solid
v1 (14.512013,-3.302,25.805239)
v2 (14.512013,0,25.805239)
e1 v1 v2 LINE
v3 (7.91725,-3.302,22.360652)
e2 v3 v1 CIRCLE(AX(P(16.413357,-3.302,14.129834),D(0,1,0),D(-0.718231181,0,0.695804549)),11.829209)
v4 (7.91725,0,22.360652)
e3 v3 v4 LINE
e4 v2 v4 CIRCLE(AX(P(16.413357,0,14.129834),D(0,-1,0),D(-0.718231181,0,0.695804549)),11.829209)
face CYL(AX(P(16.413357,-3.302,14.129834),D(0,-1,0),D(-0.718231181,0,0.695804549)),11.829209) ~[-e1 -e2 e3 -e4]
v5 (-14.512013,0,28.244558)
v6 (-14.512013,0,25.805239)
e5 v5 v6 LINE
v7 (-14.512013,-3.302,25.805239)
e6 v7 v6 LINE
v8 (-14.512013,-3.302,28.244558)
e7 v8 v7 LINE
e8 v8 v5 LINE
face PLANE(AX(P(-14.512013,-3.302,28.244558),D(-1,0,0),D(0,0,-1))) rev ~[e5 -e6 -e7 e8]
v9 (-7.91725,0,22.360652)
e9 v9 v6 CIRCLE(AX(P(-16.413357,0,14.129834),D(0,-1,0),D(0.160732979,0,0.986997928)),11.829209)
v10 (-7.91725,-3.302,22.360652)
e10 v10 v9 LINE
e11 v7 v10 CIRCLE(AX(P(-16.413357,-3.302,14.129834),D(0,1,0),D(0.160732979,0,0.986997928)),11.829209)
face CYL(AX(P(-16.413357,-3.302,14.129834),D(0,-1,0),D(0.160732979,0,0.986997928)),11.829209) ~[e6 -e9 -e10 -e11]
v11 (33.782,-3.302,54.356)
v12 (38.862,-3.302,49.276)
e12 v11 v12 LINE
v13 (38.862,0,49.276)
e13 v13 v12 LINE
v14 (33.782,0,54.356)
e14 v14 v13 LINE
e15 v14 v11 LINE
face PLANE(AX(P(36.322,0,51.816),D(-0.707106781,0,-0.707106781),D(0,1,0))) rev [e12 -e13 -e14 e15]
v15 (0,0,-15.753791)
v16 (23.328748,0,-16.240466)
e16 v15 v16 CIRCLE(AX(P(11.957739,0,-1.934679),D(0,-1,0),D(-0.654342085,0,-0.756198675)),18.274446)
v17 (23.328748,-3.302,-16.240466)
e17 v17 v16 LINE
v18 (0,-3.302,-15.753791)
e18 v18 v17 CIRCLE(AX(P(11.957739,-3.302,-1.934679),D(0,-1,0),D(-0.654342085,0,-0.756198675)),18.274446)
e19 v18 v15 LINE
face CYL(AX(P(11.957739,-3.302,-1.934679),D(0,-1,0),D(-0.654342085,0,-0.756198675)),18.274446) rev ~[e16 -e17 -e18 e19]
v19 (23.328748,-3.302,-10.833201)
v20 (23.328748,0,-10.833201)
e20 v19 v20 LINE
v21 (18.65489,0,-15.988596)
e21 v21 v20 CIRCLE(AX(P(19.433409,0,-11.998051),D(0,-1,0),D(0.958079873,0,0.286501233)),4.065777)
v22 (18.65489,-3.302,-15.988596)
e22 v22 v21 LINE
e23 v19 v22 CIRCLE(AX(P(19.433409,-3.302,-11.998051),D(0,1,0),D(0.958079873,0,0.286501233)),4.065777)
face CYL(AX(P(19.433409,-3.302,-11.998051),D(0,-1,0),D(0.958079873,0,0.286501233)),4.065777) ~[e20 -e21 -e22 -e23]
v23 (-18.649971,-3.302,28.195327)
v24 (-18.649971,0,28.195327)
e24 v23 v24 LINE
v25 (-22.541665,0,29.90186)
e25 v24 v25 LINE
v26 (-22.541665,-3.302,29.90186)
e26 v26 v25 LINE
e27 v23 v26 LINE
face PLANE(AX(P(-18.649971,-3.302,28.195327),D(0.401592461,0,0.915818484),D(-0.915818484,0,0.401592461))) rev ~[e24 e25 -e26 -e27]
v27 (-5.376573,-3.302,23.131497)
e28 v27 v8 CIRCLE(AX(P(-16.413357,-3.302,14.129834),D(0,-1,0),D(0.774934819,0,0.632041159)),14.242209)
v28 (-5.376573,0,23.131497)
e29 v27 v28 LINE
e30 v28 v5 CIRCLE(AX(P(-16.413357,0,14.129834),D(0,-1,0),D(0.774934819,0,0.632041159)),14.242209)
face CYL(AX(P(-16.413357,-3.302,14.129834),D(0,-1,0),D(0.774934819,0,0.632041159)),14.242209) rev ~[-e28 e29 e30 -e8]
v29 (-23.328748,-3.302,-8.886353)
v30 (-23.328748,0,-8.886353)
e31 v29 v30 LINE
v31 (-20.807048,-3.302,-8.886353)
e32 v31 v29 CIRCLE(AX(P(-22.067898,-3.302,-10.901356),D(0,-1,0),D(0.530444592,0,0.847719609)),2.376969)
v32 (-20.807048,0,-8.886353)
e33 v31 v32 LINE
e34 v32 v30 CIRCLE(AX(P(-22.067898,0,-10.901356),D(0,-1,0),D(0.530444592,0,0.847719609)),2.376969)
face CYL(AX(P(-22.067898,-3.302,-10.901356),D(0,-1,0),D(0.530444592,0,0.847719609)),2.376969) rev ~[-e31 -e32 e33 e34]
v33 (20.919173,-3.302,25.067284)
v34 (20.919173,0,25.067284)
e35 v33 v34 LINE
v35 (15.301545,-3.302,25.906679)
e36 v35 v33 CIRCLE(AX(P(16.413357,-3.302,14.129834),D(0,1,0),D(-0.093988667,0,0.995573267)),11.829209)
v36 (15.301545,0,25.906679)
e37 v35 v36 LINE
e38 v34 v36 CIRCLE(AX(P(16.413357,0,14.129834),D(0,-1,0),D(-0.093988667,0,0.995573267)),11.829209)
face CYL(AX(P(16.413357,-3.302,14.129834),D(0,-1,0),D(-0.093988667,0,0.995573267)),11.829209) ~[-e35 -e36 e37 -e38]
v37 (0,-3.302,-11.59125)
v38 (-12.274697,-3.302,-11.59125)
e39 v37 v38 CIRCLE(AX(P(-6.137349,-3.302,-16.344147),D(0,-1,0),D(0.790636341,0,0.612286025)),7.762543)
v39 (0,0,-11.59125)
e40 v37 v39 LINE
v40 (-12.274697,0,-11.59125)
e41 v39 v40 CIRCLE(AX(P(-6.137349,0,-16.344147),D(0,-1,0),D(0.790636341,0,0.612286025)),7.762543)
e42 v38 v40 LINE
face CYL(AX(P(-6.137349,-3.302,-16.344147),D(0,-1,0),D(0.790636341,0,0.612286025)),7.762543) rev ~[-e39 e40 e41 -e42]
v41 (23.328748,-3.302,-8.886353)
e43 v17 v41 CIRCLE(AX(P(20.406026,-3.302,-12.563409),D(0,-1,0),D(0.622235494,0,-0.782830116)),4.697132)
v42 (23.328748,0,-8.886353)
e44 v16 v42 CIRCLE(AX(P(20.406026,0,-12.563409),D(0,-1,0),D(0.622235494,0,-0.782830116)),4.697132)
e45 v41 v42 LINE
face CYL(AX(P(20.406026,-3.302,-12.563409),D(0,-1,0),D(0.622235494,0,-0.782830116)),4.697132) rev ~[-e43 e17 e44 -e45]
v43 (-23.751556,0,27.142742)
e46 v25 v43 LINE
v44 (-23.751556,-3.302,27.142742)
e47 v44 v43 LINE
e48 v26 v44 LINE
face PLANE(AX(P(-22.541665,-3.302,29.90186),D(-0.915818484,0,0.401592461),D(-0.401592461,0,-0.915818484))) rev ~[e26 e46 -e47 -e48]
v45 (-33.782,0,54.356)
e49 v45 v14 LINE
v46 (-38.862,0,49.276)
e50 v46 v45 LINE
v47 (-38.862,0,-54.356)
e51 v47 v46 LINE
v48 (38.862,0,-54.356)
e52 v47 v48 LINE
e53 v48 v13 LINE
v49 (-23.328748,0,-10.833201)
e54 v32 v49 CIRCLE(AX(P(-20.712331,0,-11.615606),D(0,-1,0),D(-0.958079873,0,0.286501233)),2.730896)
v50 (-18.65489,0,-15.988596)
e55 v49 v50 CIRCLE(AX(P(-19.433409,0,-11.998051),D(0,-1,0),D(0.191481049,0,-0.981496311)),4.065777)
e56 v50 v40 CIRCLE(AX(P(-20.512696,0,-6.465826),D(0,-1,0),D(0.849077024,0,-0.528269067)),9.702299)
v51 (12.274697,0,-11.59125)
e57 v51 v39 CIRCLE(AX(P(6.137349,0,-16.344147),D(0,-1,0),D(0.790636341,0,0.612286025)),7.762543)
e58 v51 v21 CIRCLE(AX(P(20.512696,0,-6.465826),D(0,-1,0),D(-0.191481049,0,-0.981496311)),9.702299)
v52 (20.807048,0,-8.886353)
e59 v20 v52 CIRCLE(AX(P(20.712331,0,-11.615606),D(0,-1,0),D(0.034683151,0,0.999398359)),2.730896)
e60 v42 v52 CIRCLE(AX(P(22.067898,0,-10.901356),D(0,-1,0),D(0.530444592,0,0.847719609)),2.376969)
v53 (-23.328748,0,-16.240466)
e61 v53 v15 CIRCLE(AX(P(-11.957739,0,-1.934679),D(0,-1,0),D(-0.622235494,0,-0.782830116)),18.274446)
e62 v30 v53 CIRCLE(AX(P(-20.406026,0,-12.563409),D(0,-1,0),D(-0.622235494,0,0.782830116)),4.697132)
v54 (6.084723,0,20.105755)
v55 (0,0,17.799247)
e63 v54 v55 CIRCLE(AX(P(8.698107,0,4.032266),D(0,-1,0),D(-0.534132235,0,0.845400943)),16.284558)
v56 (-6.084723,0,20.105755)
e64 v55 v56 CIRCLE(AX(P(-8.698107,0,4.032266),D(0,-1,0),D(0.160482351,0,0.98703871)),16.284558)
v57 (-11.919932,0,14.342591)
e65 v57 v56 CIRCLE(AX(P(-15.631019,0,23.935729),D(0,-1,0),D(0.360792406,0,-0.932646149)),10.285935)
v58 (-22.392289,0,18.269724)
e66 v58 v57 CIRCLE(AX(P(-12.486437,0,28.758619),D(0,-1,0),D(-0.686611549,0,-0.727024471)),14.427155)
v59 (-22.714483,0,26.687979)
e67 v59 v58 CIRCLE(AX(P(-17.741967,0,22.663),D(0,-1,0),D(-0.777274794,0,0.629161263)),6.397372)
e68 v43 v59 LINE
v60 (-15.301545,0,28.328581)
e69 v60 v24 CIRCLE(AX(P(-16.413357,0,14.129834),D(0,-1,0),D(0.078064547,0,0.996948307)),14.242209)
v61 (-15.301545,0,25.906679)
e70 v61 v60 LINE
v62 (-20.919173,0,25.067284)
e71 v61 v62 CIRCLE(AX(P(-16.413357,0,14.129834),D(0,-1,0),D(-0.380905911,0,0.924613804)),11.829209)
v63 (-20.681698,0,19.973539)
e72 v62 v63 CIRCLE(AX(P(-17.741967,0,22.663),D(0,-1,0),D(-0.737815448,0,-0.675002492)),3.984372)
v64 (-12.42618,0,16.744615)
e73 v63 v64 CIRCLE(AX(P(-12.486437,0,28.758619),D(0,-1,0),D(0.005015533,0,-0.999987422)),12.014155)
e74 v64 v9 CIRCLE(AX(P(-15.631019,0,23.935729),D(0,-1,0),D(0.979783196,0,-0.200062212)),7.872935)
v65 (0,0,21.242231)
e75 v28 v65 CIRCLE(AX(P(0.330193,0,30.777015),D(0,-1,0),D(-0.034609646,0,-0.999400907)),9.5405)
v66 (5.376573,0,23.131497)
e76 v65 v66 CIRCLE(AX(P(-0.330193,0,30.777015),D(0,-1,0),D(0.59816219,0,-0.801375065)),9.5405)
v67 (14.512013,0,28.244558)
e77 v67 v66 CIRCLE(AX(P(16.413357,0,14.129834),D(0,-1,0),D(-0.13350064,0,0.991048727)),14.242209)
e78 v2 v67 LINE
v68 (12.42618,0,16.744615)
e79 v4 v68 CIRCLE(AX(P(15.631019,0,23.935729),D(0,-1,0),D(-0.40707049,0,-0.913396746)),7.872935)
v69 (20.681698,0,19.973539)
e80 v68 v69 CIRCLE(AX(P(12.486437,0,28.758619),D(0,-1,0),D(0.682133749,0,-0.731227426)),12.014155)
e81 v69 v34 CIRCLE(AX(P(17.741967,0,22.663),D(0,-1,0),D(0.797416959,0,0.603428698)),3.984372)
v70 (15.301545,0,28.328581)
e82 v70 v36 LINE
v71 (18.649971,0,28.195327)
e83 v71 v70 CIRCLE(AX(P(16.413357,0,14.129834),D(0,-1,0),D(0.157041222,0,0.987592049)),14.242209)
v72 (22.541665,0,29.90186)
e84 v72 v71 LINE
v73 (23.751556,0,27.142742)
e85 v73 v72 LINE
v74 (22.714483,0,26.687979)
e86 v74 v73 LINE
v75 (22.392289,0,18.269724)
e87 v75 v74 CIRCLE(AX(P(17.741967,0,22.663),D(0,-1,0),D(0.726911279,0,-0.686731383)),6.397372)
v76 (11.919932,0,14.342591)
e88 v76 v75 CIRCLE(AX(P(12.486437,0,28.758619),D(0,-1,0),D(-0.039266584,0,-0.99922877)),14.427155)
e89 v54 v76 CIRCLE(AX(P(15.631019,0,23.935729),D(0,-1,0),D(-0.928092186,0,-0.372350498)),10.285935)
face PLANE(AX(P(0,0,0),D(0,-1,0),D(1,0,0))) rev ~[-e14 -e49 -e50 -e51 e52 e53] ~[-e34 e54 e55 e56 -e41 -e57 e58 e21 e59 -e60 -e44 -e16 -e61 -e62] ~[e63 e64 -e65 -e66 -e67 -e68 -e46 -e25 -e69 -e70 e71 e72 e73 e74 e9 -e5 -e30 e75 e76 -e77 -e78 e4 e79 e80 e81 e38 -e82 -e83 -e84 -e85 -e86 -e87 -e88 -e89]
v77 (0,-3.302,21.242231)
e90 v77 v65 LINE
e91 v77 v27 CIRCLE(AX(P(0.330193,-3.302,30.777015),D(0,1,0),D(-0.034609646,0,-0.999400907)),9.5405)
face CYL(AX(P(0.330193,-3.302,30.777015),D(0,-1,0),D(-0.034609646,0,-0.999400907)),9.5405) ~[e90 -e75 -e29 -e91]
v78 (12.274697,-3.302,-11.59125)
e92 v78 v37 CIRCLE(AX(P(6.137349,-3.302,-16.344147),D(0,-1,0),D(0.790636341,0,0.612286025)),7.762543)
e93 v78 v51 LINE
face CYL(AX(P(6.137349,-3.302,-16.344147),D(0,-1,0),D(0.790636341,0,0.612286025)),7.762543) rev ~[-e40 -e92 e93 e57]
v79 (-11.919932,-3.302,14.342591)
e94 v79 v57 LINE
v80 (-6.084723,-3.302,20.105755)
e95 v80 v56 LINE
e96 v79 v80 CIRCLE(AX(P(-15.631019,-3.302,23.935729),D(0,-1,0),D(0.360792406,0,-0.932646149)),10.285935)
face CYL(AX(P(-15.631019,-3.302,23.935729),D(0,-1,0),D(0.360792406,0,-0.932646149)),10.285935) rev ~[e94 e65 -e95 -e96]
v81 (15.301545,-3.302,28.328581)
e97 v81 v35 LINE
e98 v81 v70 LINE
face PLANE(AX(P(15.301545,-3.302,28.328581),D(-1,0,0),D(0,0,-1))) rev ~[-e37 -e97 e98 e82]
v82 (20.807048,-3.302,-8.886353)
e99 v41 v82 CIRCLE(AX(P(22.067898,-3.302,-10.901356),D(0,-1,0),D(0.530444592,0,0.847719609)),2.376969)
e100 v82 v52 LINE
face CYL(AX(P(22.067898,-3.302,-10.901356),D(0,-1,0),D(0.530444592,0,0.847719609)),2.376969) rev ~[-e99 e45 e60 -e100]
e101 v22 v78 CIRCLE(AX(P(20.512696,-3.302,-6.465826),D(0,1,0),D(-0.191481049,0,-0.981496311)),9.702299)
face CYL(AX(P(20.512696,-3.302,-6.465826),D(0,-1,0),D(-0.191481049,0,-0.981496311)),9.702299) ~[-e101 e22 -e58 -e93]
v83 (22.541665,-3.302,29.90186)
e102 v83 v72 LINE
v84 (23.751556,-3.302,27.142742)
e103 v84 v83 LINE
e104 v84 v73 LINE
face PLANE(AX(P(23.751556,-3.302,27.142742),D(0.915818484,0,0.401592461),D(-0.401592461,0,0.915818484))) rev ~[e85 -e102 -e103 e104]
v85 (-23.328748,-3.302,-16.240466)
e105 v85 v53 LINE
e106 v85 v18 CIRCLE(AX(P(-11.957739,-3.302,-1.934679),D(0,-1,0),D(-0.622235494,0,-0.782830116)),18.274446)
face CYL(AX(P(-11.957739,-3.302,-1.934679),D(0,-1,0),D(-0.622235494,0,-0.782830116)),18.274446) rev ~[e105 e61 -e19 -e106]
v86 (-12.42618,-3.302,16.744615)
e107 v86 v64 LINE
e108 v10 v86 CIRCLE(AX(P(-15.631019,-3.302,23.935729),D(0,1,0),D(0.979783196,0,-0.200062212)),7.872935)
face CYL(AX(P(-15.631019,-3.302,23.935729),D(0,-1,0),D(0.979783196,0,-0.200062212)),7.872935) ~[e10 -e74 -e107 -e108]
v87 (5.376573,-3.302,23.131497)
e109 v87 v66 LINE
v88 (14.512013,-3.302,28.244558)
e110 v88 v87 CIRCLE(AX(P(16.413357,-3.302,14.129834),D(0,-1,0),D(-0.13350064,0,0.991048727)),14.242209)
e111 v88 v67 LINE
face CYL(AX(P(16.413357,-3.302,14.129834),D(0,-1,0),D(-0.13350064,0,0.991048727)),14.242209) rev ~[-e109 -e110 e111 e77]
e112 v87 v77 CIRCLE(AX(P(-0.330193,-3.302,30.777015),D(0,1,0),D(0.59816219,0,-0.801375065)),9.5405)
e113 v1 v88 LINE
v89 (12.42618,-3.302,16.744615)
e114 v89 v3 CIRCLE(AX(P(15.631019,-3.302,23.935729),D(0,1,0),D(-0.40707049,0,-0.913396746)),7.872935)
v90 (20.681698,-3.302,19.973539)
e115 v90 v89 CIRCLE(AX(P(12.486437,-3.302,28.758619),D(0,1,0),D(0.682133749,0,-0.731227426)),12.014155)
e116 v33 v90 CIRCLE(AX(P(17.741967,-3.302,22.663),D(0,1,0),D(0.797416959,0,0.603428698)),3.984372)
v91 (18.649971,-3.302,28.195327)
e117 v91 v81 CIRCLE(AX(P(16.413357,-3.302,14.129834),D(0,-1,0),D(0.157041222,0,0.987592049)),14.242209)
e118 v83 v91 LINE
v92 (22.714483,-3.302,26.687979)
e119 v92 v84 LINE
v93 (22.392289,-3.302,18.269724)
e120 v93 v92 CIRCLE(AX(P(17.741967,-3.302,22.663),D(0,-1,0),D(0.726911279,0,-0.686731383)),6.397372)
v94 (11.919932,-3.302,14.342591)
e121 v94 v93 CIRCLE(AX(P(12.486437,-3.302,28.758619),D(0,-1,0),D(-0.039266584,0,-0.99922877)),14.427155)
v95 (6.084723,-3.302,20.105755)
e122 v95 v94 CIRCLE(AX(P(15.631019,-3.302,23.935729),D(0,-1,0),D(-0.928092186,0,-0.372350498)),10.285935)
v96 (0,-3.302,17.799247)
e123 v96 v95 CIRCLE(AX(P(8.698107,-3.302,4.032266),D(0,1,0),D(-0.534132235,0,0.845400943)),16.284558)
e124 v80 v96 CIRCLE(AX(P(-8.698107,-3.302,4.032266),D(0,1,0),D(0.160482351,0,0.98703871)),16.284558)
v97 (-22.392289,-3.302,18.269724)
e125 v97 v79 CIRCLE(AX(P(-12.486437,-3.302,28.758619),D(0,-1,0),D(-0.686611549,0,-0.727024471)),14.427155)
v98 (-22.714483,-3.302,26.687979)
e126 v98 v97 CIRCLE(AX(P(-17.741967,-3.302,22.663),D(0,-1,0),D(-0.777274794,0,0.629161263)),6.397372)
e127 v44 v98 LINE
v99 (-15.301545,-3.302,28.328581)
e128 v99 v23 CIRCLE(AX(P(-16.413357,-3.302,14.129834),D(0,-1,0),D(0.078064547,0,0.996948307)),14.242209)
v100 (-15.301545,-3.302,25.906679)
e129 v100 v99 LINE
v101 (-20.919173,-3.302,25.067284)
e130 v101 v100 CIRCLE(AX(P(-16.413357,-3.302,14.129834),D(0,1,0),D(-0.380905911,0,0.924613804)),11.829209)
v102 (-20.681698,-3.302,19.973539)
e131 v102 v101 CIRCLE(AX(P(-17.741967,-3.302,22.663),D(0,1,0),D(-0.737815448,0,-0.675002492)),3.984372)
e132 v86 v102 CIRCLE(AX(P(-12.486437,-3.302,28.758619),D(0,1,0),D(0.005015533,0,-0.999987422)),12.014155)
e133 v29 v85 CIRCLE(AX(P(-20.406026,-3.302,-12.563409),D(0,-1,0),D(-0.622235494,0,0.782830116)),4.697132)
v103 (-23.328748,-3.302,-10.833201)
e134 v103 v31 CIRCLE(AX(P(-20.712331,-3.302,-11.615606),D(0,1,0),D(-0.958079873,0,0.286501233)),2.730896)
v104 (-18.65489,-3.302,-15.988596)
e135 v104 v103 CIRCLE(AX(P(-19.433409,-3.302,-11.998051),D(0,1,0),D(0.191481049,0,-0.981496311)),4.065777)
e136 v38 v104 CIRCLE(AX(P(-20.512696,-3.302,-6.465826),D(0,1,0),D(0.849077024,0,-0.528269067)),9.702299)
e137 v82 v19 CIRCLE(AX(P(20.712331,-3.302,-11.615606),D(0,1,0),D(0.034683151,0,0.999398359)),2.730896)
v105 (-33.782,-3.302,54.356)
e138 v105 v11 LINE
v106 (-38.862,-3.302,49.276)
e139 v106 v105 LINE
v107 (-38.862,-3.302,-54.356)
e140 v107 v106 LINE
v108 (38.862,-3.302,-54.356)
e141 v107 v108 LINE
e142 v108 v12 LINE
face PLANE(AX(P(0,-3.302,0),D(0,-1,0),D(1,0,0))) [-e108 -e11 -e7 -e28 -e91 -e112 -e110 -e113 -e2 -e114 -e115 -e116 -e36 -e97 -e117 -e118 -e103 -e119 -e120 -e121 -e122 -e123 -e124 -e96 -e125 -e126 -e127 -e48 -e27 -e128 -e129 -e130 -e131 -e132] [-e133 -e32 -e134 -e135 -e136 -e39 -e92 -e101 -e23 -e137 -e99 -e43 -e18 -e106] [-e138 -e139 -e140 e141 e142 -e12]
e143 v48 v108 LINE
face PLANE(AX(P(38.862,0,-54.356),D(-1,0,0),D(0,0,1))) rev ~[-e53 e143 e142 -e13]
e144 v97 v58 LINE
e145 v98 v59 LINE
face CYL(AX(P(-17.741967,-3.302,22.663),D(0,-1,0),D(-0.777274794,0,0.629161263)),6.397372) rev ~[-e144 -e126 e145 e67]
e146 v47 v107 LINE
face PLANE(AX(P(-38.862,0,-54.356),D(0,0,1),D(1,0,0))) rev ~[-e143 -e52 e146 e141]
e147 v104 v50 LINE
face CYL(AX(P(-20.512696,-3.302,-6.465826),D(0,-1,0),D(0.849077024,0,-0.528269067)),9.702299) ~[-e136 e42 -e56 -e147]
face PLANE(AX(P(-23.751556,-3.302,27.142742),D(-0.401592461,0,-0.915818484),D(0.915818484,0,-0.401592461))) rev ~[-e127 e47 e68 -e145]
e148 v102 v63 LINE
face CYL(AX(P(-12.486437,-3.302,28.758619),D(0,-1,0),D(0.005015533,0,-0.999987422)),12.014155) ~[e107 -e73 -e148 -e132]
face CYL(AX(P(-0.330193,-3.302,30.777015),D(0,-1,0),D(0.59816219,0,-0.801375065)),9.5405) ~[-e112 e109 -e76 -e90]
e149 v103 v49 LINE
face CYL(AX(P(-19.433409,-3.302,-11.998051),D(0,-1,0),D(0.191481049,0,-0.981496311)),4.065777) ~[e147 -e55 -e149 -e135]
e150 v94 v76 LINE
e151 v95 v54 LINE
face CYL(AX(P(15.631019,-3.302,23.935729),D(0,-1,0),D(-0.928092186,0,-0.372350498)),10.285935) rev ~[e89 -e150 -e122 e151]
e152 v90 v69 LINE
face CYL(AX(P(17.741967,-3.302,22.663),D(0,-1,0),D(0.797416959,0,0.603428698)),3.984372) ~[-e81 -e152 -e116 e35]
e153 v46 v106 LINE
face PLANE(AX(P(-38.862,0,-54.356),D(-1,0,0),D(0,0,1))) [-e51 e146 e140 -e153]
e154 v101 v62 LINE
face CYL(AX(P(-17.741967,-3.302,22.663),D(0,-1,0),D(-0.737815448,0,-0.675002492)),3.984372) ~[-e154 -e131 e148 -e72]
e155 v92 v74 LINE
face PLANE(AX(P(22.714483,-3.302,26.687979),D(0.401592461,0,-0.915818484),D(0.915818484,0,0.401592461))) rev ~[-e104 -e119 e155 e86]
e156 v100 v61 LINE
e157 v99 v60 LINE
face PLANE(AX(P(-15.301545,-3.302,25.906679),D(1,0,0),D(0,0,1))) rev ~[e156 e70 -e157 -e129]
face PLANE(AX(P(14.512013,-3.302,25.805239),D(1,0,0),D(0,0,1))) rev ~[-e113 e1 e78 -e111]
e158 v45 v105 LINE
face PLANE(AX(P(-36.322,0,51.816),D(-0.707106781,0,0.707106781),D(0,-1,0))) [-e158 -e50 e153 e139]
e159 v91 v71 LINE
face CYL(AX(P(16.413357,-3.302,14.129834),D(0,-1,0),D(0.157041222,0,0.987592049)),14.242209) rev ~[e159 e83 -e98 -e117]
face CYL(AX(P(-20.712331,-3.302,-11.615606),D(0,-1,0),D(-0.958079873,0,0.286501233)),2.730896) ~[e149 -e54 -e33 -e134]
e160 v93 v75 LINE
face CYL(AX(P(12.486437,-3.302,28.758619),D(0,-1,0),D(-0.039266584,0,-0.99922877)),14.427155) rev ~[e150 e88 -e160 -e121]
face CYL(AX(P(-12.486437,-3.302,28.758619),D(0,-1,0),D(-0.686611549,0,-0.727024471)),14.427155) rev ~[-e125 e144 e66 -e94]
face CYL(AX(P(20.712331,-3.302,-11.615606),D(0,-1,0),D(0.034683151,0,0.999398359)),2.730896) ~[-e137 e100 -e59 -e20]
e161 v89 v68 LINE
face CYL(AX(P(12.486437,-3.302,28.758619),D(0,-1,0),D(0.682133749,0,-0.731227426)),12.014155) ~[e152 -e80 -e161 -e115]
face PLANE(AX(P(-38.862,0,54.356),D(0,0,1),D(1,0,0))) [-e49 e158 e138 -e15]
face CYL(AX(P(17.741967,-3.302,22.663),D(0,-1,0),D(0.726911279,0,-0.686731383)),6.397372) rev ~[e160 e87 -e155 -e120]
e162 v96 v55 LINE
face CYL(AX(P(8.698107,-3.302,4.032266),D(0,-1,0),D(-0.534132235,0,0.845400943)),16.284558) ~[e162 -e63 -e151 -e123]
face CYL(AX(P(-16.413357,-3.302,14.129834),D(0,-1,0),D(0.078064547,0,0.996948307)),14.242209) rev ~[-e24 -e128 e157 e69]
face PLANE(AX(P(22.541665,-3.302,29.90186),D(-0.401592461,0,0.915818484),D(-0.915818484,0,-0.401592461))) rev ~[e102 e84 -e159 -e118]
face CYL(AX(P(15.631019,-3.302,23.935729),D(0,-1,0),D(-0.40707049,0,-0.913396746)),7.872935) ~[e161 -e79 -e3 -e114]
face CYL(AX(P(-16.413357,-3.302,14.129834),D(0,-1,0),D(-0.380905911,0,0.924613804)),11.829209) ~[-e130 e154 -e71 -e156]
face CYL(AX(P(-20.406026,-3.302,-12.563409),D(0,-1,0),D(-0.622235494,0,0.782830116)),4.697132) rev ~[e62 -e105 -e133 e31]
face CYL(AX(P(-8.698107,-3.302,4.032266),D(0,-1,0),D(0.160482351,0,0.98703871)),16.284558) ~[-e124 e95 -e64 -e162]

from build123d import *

# Parameters (mm, degrees)
F0_W     = 77.724
F0_H     = 108.712
F1_DEPTH = 3.302
F3_R     = 13.3445871966
F4_DEPTH = 3.302
F5_SIZE  = 5.08
F7_DEPTH = 3.303


with BuildPart() as f1:
    # F0 (on Front) → F1 (new body)
    with BuildSketch(Plane.XZ):
        Rectangle(F0_W, F0_H)
    extrude(amount=F1_DEPTH)

    # F3 (on face) → F4 (join)
    with BuildSketch(Plane.XZ.offset(3.302)):
        with BuildLine():
            add(Edge.make_bspline(
                [(-33.1284857231, -24.3833554431), (-30.3980902484, -23.448268281), (-27.6625298974, -23.0135580616), (-24.9168122419, -22.8877504962)],
                knots=[0.0236239796, 0.0236239796, 0.0236239796, 0.0236239796, 0.1438563975, 0.1438563975, 0.1438563975, 0.1438563975], degree=3))
            ThreePointArc((-33.1284857231, -24.3833554431), (-29.1410849834, -38.4326879001), (-15.8749999992, -44.5395771521))
            ThreePointArc((-15.8749999992, -44.5395771521), (-7.7803065213, -45.3411097626), (9e-10, -47.7145771515))
            ThreePointArc((9e-10, -47.7145771515), (7.780306523, -45.3411097624), (15.8750000008, -44.5395771515))
            ThreePointArc((15.8750000008, -44.5395771515), (28.9710149024, -38.6284104056), (33.2008619827, -24.8968448621))
            add(Edge.make_bspline(
                [(22.7832318895, -28.264905571), (26.870414184, -28.3483991479), (30.7081117423, -27.7740633769), (33.2008619827, -24.8968448621)],
                knots=[0.8224951004, 0.8224951004, 0.8224951004, 0.8224951004, 0.9908039431, 0.9908039431, 0.9908039431, 0.9908039431], degree=3))
            add(Edge.make_bspline(
                [(15.9953683619, -27.7933645546), (16.7598950609, -27.862629463), (19.0104314318, -28.0581684328), (21.3052242348, -28.2347126075), (22.7832318895, -28.264905571)],
                knots=[0.7300371536, 0.7300371536, 0.7300371536, 0.7300371536, 0.7616312241, 0.8224951004, 0.8224951004, 0.8224951004, 0.8224951004], degree=3))
            add(Edge.make_bspline(
                [(12.0445173218, -27.4086319137), (13.3501324037, -27.5450763369), (14.6659309282, -27.6729196282), (15.9953683619, -27.7933645546)],
                knots=[0.6750981435, 0.6750981435, 0.6750981435, 0.6750981435, 0.7300371536, 0.7300371536, 0.7300371536, 0.7300371536], degree=3))
            add(Edge.make_bspline(
                [(6.5035843618, -26.7679947406), (8.3365045469, -27.0014140297), (10.1801283043, -27.2137923413), (12.0445173218, -27.4086319137)],
                knots=[0.5966464709, 0.5966464709, 0.5966464709, 0.5966464709, 0.6750981435, 0.6750981435, 0.6750981435, 0.6750981435], degree=3))
            add(Edge.make_bspline(
                [(-15.7821923495, -23.3437299796), (-10.5480047667, -23.9624284424), (-3.1004870846, -25.4363431139), (4.3262408996, -26.490713729), (6.5035843618, -26.7679947406)],
                knots=[0.2765511336, 0.2765511336, 0.2765511336, 0.2765511336, 0.5034529768, 0.5966464709, 0.5966464709, 0.5966464709, 0.5966464709], degree=3))
            add(Edge.make_bspline(
                [(-24.9168122419, -22.8877504962), (-22.5127229742, -22.777596192), (-19.4725911361, -22.9372512735), (-16.4147628171, -23.2689580365), (-15.7821923495, -23.3437299796)],
                knots=[0.1438563975, 0.1438563975, 0.1438563975, 0.1438563975, 0.2491292266, 0.2765511336, 0.2765511336, 0.2765511336, 0.2765511336], degree=3))
        make_face()
        with BuildLine():
            ThreePointArc((-24.3962783332, -9.4429305632), (-23.5493439512, -16.2082072875), (-24.9168122419, -22.8877504962))
            add(Edge.make_bspline(
                [(-24.9168122419, -22.8877504962), (-22.5127229742, -22.777596192), (-19.4725911361, -22.9372512735), (-16.4147628171, -23.2689580365), (-15.7821923495, -23.3437299796)],
                knots=[0.1438563975, 0.1438563975, 0.1438563975, 0.1438563975, 0.2491292266, 0.2765511336, 0.2765511336, 0.2765511336, 0.2765511336], degree=3))
            ThreePointArc((-15.7821923495, -23.3437299796), (-16.7909764629, -16.1431204561), (-15.7821923495, -8.9425109327))
            add(Edge.make_bspline(
                [(-20.8150930703, 3.0249084812), (-20.084698855, 3.2617064252), (-18.5750809579, 3.7511331524), (-20.1108934357, 5.7423249077), (-21.3989497629, 8.4805039988), (-19.5926222129, 8.6232034417), (-20.0960081308, 6.4882204736), (-17.9845367, 4.4717269755), (-19.4827279307, 7.4877563676), (-17.6531933794, 7.9935220173), (-17.6518746238, 3.7165445405), (-19.7201607312, 2.5442912986), (-19.0033211234, 0.5113026434), (-21.5358089244, 0.646088536), (-20.7796208818, -5.7027505195), (-14.9489180074, 0.0978196974), (-17.977030073, 1.5236381763), (-14.9168721562, 2.6666255778), (-16.1211586732, 6.3598723413), (-13.8328776174, 5.6005762962), (-15.1421128769, 3.3154322822), (-14.4747759607, 0.1624480587), (-13.8084140261, 5.1188240441), (-11.0343102947, 2.7331078221), (-14.5615723999, -0.162479085), (-17.3031216925, -3.3366762112), (-18.0975664008, -8.8898410691), (-13.4356882131, -5.5746333853), (-15.3648709473, -3.8082111356), (-12.0527139611, -3.6659211986), (-13.248535603, -1.079337143), (-9.5910344453, -1.7447413323), (-10.7422685487, 3.0079941618), (-8.9849464366, -1.96339633), (-8.8102943074, 5.4988116301), (-7.4861779197, -0.6957485248), (-9.6724060403, -0.966318494), (-11.0218385517, -3.5291741027), (-13.7004320012, -4.2797101397), (-12.8029593717, -6.9381020727), (-14.7089673153, -8.2196946287), (-15.7821923495, -8.9425109327)],
                knots=[0, 0, 0, 0, 0.0231511603, 0.0478500744, 0.0752755755, 0.0903366321, 0.1142638791, 0.1352244444, 0.1593040946, 0.1744947233, 0.2060790631, 0.2315955315, 0.2516703156, 0.2733460952, 0.3049833457, 0.3431527772, 0.3650886659, 0.3896180862, 0.4183185893, 0.4354180503, 0.4626318971, 0.4841465121, 0.512674348, 0.5346264378, 0.5675595767, 0.6056671213, 0.6368592747, 0.6681518224, 0.6879987795, 0.7121233264, 0.7334743783, 0.7591560932, 0.7848708559, 0.8073025156, 0.8374341523, 0.8673194844, 0.8904493251, 0.9187369989, 0.9444600919, 0.9686867066, 1, 1, 1, 1], degree=3))
            add(Edge.make_bspline(
                [(-25.8914344013, -2.4853385985), (-26.396572956, -2.0003344615), (-27.3138435109, -1.1196261405), (-29.1352849859, -2.0598979002), (-28.7106271057, 0.8204026064), (-32.0312644098, -1.1715068103), (-31.3002695814, 3.7485837155), (-29.4483178555, 3.8301118075), (-30.8071023081, 1.5653871303), (-28.9526334159, 1.3619840648), (-29.4792210737, 5.2085047756), (-26.921055424, 4.4342075194), (-28.8119762327, 2.2854028303), (-27.5906596289, -1.3990701213), (-27.7699356497, 3.0747016102), (-25.2099586785, 2.6066763518), (-26.5953437573, -0.395391095), (-23.7025988652, -2.0340069969), (-23.1772681034, -6.0499515041), (-20.5435134821, -4.1808959475), (-25.0748704565, 2.6489737746), (-20.1368344266, 0.7949418705), (-20.6048167244, 2.3336418411), (-20.8150930703, 3.0249084812)],
                knots=[0, 0, 0, 0, 0.0457250435, 0.0830311605, 0.1245988121, 0.1705511092, 0.2321726775, 0.2625557415, 0.30723362, 0.3358214151, 0.393012377, 0.4286583434, 0.4808472993, 0.5282384525, 0.5813000538, 0.6192860311, 0.6705302416, 0.7286736986, 0.7872738172, 0.8280557864, 0.9074882994, 0.958434574, 1, 1, 1, 1], degree=3))
            ThreePointArc((-25.8914344013, -2.4853385985), (-24.9290967698, -4.9824855111), (-24.3962783332, -7.6050683856))
            add(Edge.make_bspline(
                [(-24.3962783332, -9.4429305632), (-25.4357243907, -10.1342055857), (-27.412273175, -11.4486922391), (-27.4547789496, -7.4214675852), (-30.5466070306, -9.5733915774), (-30.4542370334, -5.4520792207), (-32.3177618611, -5.8417990903), (-32.7140680164, -4.2769830225), (-32.0543630337, -2.7007935171), (-32.1251676799, -4.5533058245), (-30.3843482976, -5.4648837492), (-32.0501040037, -1.6640768267), (-30.4436660674, -1.9005229869), (-30.1720801803, -6.5942041642), (-29.7456686663, -3.178537531), (-28.1334595609, -3.5814958653), (-29.8697325683, -5.6494579394), (-29.5018476184, -7.7306733995), (-27.2359049314, -6.3250302911), (-26.4788550338, -9.3239236743), (-25.0993332141, -8.1853413666), (-24.3962783332, -7.6050683856)],
                knots=[0, 0, 0, 0, 0.0670169121, 0.1274354192, 0.1840138636, 0.2505621343, 0.2960523516, 0.3441354147, 0.3840734056, 0.4287810373, 0.4665753725, 0.5348972739, 0.5667760176, 0.6369485958, 0.6883070256, 0.7231632661, 0.7842390879, 0.8324575559, 0.8851485442, 0.9414679355, 1, 1, 1, 1], degree=3))
        make_face()
        with BuildLine():
            add(Edge.make_bspline(
                [(-20.2924981713, -15.781018883), (-20.5370775999, -16.1379246214), (-20.134132622, -17.1534868603), (-20.8639151565, -18.5661521393), (-21.9358468203, -19.4575377926), (-22.3700864307, -21.8865095148), (-20.237349518, -21.5763362209), (-19.5672362136, -20.438180371), (-19.2965010699, -18.8033454883), (-19.7803037906, -17.8720601229), (-19.908738804, -16.4540465799), (-19.0188083322, -15.0649598827), (-20.0853771822, -15.4787748635), (-20.2924981713, -15.781018883)],
                knots=[0, 0, 0, 0, 0.0904118203, 0.1854248684, 0.2814922978, 0.3865094541, 0.4809925493, 0.5711470892, 0.6690619631, 0.748512495, 0.8439845899, 0.9234351565, 1, 1, 1, 1], degree=3))
        make_face(mode=Mode.SUBTRACT)
        with BuildLine():
            add(Edge.make_bspline(
                [(-22.3910957575, -11.5529615432), (-22.0568118654, -12.2037220004), (-21.1170784891, -12.8832887919), (-21.7129777335, -14.1967346716), (-20.5379115522, -14.568750962), (-20.4867607869, -13.5076873001), (-20.8432701563, -11.8831681267), (-21.6439811905, -11.2404808042), (-22.9718655512, -9.3501247732), (-22.6978835435, -10.9557285785), (-22.3910957575, -11.5529615432)],
                knots=[0, 0, 0, 0, 0.1505340204, 0.2658311351, 0.3614801071, 0.4617187858, 0.6051372816, 0.7298931385, 0.8618479683, 1, 1, 1, 1], degree=3))
        make_face(mode=Mode.SUBTRACT)
        with BuildLine():
            add(Edge.make_bspline(
                [(-18.3790698647, -10.1024601609), (-18.7969421772, -10.2564427963), (-19.1553590595, -11.577398565), (-19.219348267, -12.6506630096), (-19.2408550579, -13.9350019391), (-18.8743899715, -14.8858473731), (-18.2833235222, -14.0155234153), (-18.1315989973, -13.0706647968), (-18.7065283271, -12.3462231403), (-18.4694817034, -11.2210464666), (-17.1590443019, -10.374237249), (-18.0760721444, -9.9908079022), (-18.3790698647, -10.1024601609)],
                knots=[0, 0, 0, 0, 0.1240572212, 0.2333232805, 0.347818092, 0.428679644, 0.5131510602, 0.6107152668, 0.7012679009, 0.8047604962, 0.9100465523, 1, 1, 1, 1], degree=3))
        make_face(mode=Mode.SUBTRACT)
        with BuildLine():
            ThreePointArc((5.4403450859, -12.5461180708), (6.6092683485, -19.609411059), (6.5035843618, -26.7679947406))
            add(Edge.make_bspline(
                [(6.5035843618, -26.7679947406), (8.3365045469, -27.0014140297), (10.1801283043, -27.2137923413), (12.0445173218, -27.4086319137)],
                knots=[0.5966464709, 0.5966464709, 0.5966464709, 0.5966464709, 0.6750981435, 0.6750981435, 0.6750981435, 0.6750981435], degree=3))
            Line((12.0445173218, -27.4086319137), (12.0445173218, -21.4756764472))
            ThreePointArc((12.0445173218, -21.4756764472), (14.0199428419, -19.5002509271), (15.9953683619, -21.4756764472))
            Line((15.9953683619, -21.4756764472), (15.9953683619, -27.7933645546))
            add(Edge.make_bspline(
                [(15.9953683619, -27.7933645546), (16.7598950609, -27.862629463), (19.0104314318, -28.0581684328), (21.3052242348, -28.2347126075), (22.7832318895, -28.264905571)],
                knots=[0.7300371536, 0.7300371536, 0.7300371536, 0.7300371536, 0.7616312241, 0.8224951004, 0.8224951004, 0.8224951004, 0.8224951004], degree=3))
            ThreePointArc((22.7832318895, -28.264905571), (22.4736636829, -20.3696155623), (23.5801553445, -12.5461180708))
            Line((23.5801553445, -12.5461180708), (28.4554600831, -13.4531514135))
            ThreePointArc((28.4554600831, -13.4531514135), (31.673336573, -11.9989868814), (31.424967593, -8.4765393743))
            ThreePointArc((31.424967593, -8.4765393743), (29.2529740879, -8.2440657168), (29.0205004305, -10.4160592219))
            ThreePointArc((29.0205004305, -10.4160592219), (29.058069024, -11.9208265797), (27.614886003, -12.3485636115))
            ThreePointArc((27.614886003, -12.3485636115), (23.4712314741, -5.8636115848), (28.4554600831, 0))
            ThreePointArc((28.4554600831, 0), (23.3706331923, -0.6006945639), (18.2612345592, -0.9328753515))
            Line((18.2612345592, -0.9328753515), (21.109645709, 8.6648291047))
            Line((21.109645709, 8.6648291047), (22.7452469365, 8.179414619))
            ThreePointArc((22.7452469365, 8.179414619), (24.0675287583, 9.9087492795), (21.9295363303, 9.4988517773))
            ThreePointArc((21.9295363303, 9.4988517773), (17.0915933325, 15.0640837031), (15.5871994793, 22.2831070423))
            Line((15.5871994793, 22.2831070423), (14.8853833456, 29.6840668302))
            Line((14.8853833456, 29.6840668302), (17.9889984262, 30.165095753))
            Line((17.9889984262, 30.165095753), (17.720128815, 31.8998516907))
            Line((17.720128815, 31.8998516907), (14.8043116011, 31.4479295364))
            Line((14.8043116011, 31.4479295364), (14.2361351446, 35.1138234881))
            Line((14.2361351446, 35.1138234881), (12.1174789965, 34.7854532301))
            Line((12.1174789965, 34.7854532301), (12.6562453806, 31.3093140721))
            Line((12.6562453806, 31.3093140721), (10.0379107516, 30.7162171018))
            Line((10.0379107516, 30.7162171018), (10.2517836951, 29.4975203391))
            Line((10.2517836951, 29.4975203391), (12.7509497106, 29.9361068755))
            Line((12.7509497106, 29.9361068755), (14.0939988196, 22.2831070423))
            ThreePointArc((14.0939988196, 22.2831070423), (12.6245914015, 15.2177663733), (7.6988285058, 9.9437681912))
            ThreePointArc((7.6988285058, 9.9437681912), (5.5906171254, 10.4864212664), (6.8022884056, 8.6778637491))
            Line((6.8022884056, 8.6778637491), (8.4650181234, 9.060157463))
            Line((8.4650181234, 9.060157463), (10.762639533, -0.9330055424))
            ThreePointArc((10.762639533, -0.9330055424), (5.6515483018, -0.6008483836), (0.5650403473, 0))
            ThreePointArc((0.5650403473, 0), (5.5492689564, -5.8636115848), (1.4056144274, -12.3485636115))
            ThreePointArc((1.4056144274, -12.3485636115), (-0.0375685935, -11.9208265797), (0, -10.4160592219))
            ThreePointArc((0, -10.4160592219), (-0.2324736575, -8.2440657168), (-2.4044671625, -8.4765393743))
            ThreePointArc((-2.4044671625, -8.4765393743), (-2.6528361426, -11.9989868814), (0.5650403473, -13.4531514135))
            Line((0.5650403473, -13.4531514135), (5.4403450859, -12.5461180708))
        make_face()
        Polygon((9.1227404773, -7.4148867279), (8.4774624556, -4.9826856703), (9.749203307, -4.868891682), (10.3401336819, -7.1323132142), align=None, mode=Mode.SUBTRACT)
        Polygon((10.9397291529, -9.5362256838), (9.768018499, -9.8470877856), (9.2899553012, -8.0451578014), (10.461665955, -7.7342956997), align=None, mode=Mode.SUBTRACT)
        Polygon((12.2584053658, -7.3401992658), (12.7159978886, -9.0649705743), (11.5734964264, -9.3680832964), (11.1159039036, -7.6433119879), align=None, mode=Mode.SUBTRACT)
        Polygon((10.332212454, -4.8167246576), (11.5597705233, -4.7068840966), (12.1378842059, -6.8859273354), (10.9000811353, -7.0559568703), align=None, mode=Mode.SUBTRACT)
        Polygon((17.9045965268, -7.6433119879), (17.4470040041, -9.3680832964), (16.3045025419, -9.0649705743), (16.7620950646, -7.3401992658), align=None, mode=Mode.SUBTRACT)
        Polygon((18.5588344754, -7.7342956997), (19.7305451293, -8.0451578014), (19.2524819314, -9.8470877856), (18.0807712776, -9.5362256838), align=None, mode=Mode.SUBTRACT)
        Polygon((18.6803667486, -7.1323132142), (19.2712971234, -4.868891682), (20.5430379748, -4.9826856703), (19.8977599531, -7.4148867279), align=None, mode=Mode.SUBTRACT)
        Polygon((16.8826162245, -6.8859273354), (17.4607299071, -4.7068840966), (18.6882879764, -4.8167246576), (18.1204192951, -7.0559568703), align=None, mode=Mode.SUBTRACT)
        with BuildLine():
            ThreePointArc((14.2767767446, 4.6611620079), (12.1414040207, 5.7303494735), (11.1097303552, 7.8840968947))
            Line((11.1097303552, 7.8840968947), (14.2767767446, 7.8840968947))
            Line((14.2767767446, 7.8840968947), (14.2767767446, 4.6611620079))
        make_face(mode=Mode.SUBTRACT)
        with BuildLine():
            ThreePointArc((11.1459939594, 8.983289175), (12.2280091457, 10.9819830574), (14.2767767446, 11.9658963789))
            Line((14.2767767446, 11.9658963789), (14.2767767446, 8.983289175))
            Line((14.2767767446, 8.983289175), (11.1459939594, 8.983289175))
        make_face(mode=Mode.SUBTRACT)
        with BuildLine():
            ThreePointArc((18.430607267, 7.8840968947), (17.3673699452, 5.6986165643), (15.1747141111, 4.6502567644))
            Line((15.1747141111, 4.6502567644), (15.1747141111, 7.8840968947))
            Line((15.1747141111, 7.8840968947), (18.430607267, 7.8840968947))
        make_face(mode=Mode.SUBTRACT)
        with BuildLine():
            ThreePointArc((15.1747141111, 11.9768016224), (17.2797356479, 11.0126579566), (18.3943436628, 8.983289175))
            Line((18.3943436628, 8.983289175), (15.1747141111, 8.983289175))
            Line((15.1747141111, 8.983289175), (15.1747141111, 11.9768016224))
        make_face(mode=Mode.SUBTRACT)
        with BuildLine():
            ThreePointArc((1.5084841621, 28.7364097307), (5.1963193944, 39.8156504287), (15.8749999992, 44.5395771521))
            ThreePointArc((15.8749999992, 44.5395771521), (7.7803065213, 45.3411097626), (-9e-10, 47.7145771515))
            ThreePointArc((-9e-10, 47.7145771515), (-7.780306523, 45.3411097624), (-15.8750000008, 44.5395771515))
            ThreePointArc((-15.8750000008, 44.5395771515), (-30.2008361805, 37.0625327748), (-32.2586794783, 21.0343995142))
            ThreePointArc((-32.2586794783, 21.0343995142), (-31.4618060576, 11.8664205536), (-35.4362714152, 3.5663922047))
            ThreePointArc((-35.4362714152, 3.5663922047), (-26.8661908779, 8.4248419398), (-17.0921185192, 9.6570447531))
            ThreePointArc((-17.0921185192, 9.6570447531), (-3.3712650978, 14.8871009528), (1.5084841621, 28.7364097307))
        make_face()
        with Locations((-15.8750000008, 27.0770771515)):
            Circle(F3_R, mode=Mode.SUBTRACT)
    extrude(amount=-F4_DEPTH)

    # F5
    f5_edges = [f1.edges().sort_by_distance(p)[0] for p in [
        (-38.862, -1.651, 54.356),
        (38.862, -1.651, 54.356),
    ]]
    chamfer(f5_edges, length=F5_SIZE)

    # F6 (on face) → F7 (cut, through all)
    with BuildSketch(Plane.XZ.offset(3.302)):
        with BuildLine():
            ThreePointArc((0, 17.7992470562), (2.9259799263, 19.2595239635), (6.0847232479, 20.1057554935))
            ThreePointArc((6.0847232479, 20.1057554935), (8.4030825431, 16.6174369282), (11.9199320906, 14.3425906709))
            ThreePointArc((11.9199320906, 14.3425906709), (17.5521496286, 15.250052866), (22.3922886691, 18.2697243878))
            ThreePointArc((22.3922886691, 18.2697243878), (24.1346582563, 22.4183310209), (22.7144827852, 26.6879785948))
            Line((22.7144827852, 26.6879785948), (23.7515561066, 27.1427421039))
            Line((23.7515561066, 27.1427421039), (22.5416645408, 29.9018602818))
            Line((22.5416645408, 29.9018602818), (18.6499707574, 28.1953268238))
            ThreePointArc((18.6499707574, 28.1953268238), (16.9796908007, 28.3607790229), (15.3015451495, 28.3285806123))
            Line((15.3015451495, 28.3285806123), (15.3015451496, 25.9066787166))
            ThreePointArc((15.3015451496, 25.9066787166), (18.1614877216, 25.8291602538), (20.919172577, 25.0672843677))
            ThreePointArc((20.919172577, 25.0672843677), (21.7220157161, 22.4774470847), (20.6816980121, 19.9735394719))
            ThreePointArc((20.6816980121, 19.9735394719), (16.8626294088, 17.5698361275), (12.4261798066, 16.7446151326))
            ThreePointArc((12.4261798066, 16.7446151326), (9.4918847749, 19.0068204373), (7.9172497202, 22.3606517714))
            ThreePointArc((7.9172497202, 22.3606517714), (10.9367663095, 24.6149259554), (14.5120127117, 25.8052392309))
            Line((14.5120127117, 25.8052392309), (14.5120127116, 28.2445575605))
            ThreePointArc((14.5120127116, 28.2445575605), (9.4574501162, 26.5578625175), (5.3765727933, 23.1314965892))
            ThreePointArc((5.3765727933, 23.1314965892), (2.8326457203, 21.7760383678), (0, 21.2422311306))
            ThreePointArc((-8e-10, 21.2422311306), (-2.8326457211, 21.7760383677), (-5.3765727942, 23.131496589))
            ThreePointArc((-5.3765727942, 23.131496589), (-9.4574501172, 26.5578625171), (-14.5120127127, 28.2445575599))
            Line((-14.5120127127, 28.2445575599), (-14.5120127127, 25.8052392304))
            ThreePointArc((-14.5120127127, 25.8052392304), (-10.9367663104, 24.614925955), (-7.917249721, 22.3606517711))
            ThreePointArc((-7.917249721, 22.3606517711), (-9.4918847756, 19.0068204369), (-12.4261798072, 16.7446151322))
            ThreePointArc((-12.4261798072, 16.7446151322), (-16.8626294095, 17.5698361269), (-20.6816980128, 19.9735394711))
            ThreePointArc((-20.6816980128, 19.9735394711), (-21.7220157169, 22.4774470839), (-20.9191725779, 25.0672843669))
            ThreePointArc((-20.9191725779, 25.0672843669), (-18.1614877226, 25.8291602531), (-15.3015451506, 25.906678716))
            Line((-15.3015451506, 25.906678716), (-15.3015451506, 28.3285806117))
            ThreePointArc((-15.3015451506, 28.3285806117), (-16.9796908017, 28.3607790222), (-18.6499707584, 28.1953268231))
            Line((-18.6499707584, 28.1953268231), (-22.5416645419, 29.901860281))
            Line((-22.5416645419, 29.901860281), (-23.7515561076, 27.142742103))
            Line((-23.7515561076, 27.142742103), (-22.7144827862, 26.687978594))
            ThreePointArc((-22.7144827862, 26.687978594), (-24.1346582571, 22.41833102), (-22.3922886698, 18.269724387))
            ThreePointArc((-22.3922886698, 18.269724387), (-17.5521496292, 15.2500528653), (-11.9199320912, 14.3425906704))
            ThreePointArc((-11.9199320912, 14.3425906704), (-8.4030825437, 16.6174369278), (-6.0847232487, 20.1057554932))
            ThreePointArc((-6.0847232487, 20.1057554932), (-2.925979927, 19.2595239634), (-7e-10, 17.7992470562))
        make_face()
        with BuildLine():
            ThreePointArc((-23.3287482958, -16.2404655727), (-11.5765881184, -20.2051496634), (6e-10, -15.7537907362))
            ThreePointArc((0, -15.7537907362), (11.5765881191, -20.205149663), (23.3287482964, -16.2404655719))
            ThreePointArc((23.3287482964, -16.2404655719), (25.1031580449, -12.5634091874), (23.3287482964, -8.886352803))
            ThreePointArc((23.3287482964, -8.886352803), (22.0678979144, -8.5243870247), (20.8070475324, -8.886352803))
            ThreePointArc((20.8070475324, -8.886352803), (22.3811977992, -9.4539678692), (23.3287482964, -10.8332009826))
            ThreePointArc((23.3287482964, -10.8332009826), (22.4455789372, -14.7288707254), (18.6548899937, -15.9885961696))
            ThreePointArc((18.6548899937, -15.9885961696), (15.0067464531, -14.4545125445), (12.274697423, -11.5912500769))
            ThreePointArc((12.274697423, -11.5912500769), (6.1373487115, -8.5816036168), (0, -11.5912500769))
            ThreePointArc((4e-10, -11.5912500769), (-6.1373487112, -8.5816036171), (-12.2746974225, -11.5912500773))
            ThreePointArc((-12.2746974225, -11.5912500773), (-15.0067464526, -14.454512545), (-18.6548899931, -15.9885961703))
            ThreePointArc((-18.6548899931, -15.9885961703), (-22.4455789367, -14.7288707262), (-23.328748296, -10.8332009835))
            ThreePointArc((-23.328748296, -10.8332009835), (-22.3811977988, -9.4539678701), (-20.8070475321, -8.8863528037))
            ThreePointArc((-20.8070475321, -8.8863528037), (-22.0678979141, -8.5243870256), (-23.3287482961, -8.8863528038))
            ThreePointArc((-23.3287482961, -8.8863528038), (-25.1031580444, -12.5634091883), (-23.3287482958, -16.2404655727))
        make_face()
    extrude(amount=-F7_DEPTH, mode=Mode.SUBTRACT)


solid = f1.part
